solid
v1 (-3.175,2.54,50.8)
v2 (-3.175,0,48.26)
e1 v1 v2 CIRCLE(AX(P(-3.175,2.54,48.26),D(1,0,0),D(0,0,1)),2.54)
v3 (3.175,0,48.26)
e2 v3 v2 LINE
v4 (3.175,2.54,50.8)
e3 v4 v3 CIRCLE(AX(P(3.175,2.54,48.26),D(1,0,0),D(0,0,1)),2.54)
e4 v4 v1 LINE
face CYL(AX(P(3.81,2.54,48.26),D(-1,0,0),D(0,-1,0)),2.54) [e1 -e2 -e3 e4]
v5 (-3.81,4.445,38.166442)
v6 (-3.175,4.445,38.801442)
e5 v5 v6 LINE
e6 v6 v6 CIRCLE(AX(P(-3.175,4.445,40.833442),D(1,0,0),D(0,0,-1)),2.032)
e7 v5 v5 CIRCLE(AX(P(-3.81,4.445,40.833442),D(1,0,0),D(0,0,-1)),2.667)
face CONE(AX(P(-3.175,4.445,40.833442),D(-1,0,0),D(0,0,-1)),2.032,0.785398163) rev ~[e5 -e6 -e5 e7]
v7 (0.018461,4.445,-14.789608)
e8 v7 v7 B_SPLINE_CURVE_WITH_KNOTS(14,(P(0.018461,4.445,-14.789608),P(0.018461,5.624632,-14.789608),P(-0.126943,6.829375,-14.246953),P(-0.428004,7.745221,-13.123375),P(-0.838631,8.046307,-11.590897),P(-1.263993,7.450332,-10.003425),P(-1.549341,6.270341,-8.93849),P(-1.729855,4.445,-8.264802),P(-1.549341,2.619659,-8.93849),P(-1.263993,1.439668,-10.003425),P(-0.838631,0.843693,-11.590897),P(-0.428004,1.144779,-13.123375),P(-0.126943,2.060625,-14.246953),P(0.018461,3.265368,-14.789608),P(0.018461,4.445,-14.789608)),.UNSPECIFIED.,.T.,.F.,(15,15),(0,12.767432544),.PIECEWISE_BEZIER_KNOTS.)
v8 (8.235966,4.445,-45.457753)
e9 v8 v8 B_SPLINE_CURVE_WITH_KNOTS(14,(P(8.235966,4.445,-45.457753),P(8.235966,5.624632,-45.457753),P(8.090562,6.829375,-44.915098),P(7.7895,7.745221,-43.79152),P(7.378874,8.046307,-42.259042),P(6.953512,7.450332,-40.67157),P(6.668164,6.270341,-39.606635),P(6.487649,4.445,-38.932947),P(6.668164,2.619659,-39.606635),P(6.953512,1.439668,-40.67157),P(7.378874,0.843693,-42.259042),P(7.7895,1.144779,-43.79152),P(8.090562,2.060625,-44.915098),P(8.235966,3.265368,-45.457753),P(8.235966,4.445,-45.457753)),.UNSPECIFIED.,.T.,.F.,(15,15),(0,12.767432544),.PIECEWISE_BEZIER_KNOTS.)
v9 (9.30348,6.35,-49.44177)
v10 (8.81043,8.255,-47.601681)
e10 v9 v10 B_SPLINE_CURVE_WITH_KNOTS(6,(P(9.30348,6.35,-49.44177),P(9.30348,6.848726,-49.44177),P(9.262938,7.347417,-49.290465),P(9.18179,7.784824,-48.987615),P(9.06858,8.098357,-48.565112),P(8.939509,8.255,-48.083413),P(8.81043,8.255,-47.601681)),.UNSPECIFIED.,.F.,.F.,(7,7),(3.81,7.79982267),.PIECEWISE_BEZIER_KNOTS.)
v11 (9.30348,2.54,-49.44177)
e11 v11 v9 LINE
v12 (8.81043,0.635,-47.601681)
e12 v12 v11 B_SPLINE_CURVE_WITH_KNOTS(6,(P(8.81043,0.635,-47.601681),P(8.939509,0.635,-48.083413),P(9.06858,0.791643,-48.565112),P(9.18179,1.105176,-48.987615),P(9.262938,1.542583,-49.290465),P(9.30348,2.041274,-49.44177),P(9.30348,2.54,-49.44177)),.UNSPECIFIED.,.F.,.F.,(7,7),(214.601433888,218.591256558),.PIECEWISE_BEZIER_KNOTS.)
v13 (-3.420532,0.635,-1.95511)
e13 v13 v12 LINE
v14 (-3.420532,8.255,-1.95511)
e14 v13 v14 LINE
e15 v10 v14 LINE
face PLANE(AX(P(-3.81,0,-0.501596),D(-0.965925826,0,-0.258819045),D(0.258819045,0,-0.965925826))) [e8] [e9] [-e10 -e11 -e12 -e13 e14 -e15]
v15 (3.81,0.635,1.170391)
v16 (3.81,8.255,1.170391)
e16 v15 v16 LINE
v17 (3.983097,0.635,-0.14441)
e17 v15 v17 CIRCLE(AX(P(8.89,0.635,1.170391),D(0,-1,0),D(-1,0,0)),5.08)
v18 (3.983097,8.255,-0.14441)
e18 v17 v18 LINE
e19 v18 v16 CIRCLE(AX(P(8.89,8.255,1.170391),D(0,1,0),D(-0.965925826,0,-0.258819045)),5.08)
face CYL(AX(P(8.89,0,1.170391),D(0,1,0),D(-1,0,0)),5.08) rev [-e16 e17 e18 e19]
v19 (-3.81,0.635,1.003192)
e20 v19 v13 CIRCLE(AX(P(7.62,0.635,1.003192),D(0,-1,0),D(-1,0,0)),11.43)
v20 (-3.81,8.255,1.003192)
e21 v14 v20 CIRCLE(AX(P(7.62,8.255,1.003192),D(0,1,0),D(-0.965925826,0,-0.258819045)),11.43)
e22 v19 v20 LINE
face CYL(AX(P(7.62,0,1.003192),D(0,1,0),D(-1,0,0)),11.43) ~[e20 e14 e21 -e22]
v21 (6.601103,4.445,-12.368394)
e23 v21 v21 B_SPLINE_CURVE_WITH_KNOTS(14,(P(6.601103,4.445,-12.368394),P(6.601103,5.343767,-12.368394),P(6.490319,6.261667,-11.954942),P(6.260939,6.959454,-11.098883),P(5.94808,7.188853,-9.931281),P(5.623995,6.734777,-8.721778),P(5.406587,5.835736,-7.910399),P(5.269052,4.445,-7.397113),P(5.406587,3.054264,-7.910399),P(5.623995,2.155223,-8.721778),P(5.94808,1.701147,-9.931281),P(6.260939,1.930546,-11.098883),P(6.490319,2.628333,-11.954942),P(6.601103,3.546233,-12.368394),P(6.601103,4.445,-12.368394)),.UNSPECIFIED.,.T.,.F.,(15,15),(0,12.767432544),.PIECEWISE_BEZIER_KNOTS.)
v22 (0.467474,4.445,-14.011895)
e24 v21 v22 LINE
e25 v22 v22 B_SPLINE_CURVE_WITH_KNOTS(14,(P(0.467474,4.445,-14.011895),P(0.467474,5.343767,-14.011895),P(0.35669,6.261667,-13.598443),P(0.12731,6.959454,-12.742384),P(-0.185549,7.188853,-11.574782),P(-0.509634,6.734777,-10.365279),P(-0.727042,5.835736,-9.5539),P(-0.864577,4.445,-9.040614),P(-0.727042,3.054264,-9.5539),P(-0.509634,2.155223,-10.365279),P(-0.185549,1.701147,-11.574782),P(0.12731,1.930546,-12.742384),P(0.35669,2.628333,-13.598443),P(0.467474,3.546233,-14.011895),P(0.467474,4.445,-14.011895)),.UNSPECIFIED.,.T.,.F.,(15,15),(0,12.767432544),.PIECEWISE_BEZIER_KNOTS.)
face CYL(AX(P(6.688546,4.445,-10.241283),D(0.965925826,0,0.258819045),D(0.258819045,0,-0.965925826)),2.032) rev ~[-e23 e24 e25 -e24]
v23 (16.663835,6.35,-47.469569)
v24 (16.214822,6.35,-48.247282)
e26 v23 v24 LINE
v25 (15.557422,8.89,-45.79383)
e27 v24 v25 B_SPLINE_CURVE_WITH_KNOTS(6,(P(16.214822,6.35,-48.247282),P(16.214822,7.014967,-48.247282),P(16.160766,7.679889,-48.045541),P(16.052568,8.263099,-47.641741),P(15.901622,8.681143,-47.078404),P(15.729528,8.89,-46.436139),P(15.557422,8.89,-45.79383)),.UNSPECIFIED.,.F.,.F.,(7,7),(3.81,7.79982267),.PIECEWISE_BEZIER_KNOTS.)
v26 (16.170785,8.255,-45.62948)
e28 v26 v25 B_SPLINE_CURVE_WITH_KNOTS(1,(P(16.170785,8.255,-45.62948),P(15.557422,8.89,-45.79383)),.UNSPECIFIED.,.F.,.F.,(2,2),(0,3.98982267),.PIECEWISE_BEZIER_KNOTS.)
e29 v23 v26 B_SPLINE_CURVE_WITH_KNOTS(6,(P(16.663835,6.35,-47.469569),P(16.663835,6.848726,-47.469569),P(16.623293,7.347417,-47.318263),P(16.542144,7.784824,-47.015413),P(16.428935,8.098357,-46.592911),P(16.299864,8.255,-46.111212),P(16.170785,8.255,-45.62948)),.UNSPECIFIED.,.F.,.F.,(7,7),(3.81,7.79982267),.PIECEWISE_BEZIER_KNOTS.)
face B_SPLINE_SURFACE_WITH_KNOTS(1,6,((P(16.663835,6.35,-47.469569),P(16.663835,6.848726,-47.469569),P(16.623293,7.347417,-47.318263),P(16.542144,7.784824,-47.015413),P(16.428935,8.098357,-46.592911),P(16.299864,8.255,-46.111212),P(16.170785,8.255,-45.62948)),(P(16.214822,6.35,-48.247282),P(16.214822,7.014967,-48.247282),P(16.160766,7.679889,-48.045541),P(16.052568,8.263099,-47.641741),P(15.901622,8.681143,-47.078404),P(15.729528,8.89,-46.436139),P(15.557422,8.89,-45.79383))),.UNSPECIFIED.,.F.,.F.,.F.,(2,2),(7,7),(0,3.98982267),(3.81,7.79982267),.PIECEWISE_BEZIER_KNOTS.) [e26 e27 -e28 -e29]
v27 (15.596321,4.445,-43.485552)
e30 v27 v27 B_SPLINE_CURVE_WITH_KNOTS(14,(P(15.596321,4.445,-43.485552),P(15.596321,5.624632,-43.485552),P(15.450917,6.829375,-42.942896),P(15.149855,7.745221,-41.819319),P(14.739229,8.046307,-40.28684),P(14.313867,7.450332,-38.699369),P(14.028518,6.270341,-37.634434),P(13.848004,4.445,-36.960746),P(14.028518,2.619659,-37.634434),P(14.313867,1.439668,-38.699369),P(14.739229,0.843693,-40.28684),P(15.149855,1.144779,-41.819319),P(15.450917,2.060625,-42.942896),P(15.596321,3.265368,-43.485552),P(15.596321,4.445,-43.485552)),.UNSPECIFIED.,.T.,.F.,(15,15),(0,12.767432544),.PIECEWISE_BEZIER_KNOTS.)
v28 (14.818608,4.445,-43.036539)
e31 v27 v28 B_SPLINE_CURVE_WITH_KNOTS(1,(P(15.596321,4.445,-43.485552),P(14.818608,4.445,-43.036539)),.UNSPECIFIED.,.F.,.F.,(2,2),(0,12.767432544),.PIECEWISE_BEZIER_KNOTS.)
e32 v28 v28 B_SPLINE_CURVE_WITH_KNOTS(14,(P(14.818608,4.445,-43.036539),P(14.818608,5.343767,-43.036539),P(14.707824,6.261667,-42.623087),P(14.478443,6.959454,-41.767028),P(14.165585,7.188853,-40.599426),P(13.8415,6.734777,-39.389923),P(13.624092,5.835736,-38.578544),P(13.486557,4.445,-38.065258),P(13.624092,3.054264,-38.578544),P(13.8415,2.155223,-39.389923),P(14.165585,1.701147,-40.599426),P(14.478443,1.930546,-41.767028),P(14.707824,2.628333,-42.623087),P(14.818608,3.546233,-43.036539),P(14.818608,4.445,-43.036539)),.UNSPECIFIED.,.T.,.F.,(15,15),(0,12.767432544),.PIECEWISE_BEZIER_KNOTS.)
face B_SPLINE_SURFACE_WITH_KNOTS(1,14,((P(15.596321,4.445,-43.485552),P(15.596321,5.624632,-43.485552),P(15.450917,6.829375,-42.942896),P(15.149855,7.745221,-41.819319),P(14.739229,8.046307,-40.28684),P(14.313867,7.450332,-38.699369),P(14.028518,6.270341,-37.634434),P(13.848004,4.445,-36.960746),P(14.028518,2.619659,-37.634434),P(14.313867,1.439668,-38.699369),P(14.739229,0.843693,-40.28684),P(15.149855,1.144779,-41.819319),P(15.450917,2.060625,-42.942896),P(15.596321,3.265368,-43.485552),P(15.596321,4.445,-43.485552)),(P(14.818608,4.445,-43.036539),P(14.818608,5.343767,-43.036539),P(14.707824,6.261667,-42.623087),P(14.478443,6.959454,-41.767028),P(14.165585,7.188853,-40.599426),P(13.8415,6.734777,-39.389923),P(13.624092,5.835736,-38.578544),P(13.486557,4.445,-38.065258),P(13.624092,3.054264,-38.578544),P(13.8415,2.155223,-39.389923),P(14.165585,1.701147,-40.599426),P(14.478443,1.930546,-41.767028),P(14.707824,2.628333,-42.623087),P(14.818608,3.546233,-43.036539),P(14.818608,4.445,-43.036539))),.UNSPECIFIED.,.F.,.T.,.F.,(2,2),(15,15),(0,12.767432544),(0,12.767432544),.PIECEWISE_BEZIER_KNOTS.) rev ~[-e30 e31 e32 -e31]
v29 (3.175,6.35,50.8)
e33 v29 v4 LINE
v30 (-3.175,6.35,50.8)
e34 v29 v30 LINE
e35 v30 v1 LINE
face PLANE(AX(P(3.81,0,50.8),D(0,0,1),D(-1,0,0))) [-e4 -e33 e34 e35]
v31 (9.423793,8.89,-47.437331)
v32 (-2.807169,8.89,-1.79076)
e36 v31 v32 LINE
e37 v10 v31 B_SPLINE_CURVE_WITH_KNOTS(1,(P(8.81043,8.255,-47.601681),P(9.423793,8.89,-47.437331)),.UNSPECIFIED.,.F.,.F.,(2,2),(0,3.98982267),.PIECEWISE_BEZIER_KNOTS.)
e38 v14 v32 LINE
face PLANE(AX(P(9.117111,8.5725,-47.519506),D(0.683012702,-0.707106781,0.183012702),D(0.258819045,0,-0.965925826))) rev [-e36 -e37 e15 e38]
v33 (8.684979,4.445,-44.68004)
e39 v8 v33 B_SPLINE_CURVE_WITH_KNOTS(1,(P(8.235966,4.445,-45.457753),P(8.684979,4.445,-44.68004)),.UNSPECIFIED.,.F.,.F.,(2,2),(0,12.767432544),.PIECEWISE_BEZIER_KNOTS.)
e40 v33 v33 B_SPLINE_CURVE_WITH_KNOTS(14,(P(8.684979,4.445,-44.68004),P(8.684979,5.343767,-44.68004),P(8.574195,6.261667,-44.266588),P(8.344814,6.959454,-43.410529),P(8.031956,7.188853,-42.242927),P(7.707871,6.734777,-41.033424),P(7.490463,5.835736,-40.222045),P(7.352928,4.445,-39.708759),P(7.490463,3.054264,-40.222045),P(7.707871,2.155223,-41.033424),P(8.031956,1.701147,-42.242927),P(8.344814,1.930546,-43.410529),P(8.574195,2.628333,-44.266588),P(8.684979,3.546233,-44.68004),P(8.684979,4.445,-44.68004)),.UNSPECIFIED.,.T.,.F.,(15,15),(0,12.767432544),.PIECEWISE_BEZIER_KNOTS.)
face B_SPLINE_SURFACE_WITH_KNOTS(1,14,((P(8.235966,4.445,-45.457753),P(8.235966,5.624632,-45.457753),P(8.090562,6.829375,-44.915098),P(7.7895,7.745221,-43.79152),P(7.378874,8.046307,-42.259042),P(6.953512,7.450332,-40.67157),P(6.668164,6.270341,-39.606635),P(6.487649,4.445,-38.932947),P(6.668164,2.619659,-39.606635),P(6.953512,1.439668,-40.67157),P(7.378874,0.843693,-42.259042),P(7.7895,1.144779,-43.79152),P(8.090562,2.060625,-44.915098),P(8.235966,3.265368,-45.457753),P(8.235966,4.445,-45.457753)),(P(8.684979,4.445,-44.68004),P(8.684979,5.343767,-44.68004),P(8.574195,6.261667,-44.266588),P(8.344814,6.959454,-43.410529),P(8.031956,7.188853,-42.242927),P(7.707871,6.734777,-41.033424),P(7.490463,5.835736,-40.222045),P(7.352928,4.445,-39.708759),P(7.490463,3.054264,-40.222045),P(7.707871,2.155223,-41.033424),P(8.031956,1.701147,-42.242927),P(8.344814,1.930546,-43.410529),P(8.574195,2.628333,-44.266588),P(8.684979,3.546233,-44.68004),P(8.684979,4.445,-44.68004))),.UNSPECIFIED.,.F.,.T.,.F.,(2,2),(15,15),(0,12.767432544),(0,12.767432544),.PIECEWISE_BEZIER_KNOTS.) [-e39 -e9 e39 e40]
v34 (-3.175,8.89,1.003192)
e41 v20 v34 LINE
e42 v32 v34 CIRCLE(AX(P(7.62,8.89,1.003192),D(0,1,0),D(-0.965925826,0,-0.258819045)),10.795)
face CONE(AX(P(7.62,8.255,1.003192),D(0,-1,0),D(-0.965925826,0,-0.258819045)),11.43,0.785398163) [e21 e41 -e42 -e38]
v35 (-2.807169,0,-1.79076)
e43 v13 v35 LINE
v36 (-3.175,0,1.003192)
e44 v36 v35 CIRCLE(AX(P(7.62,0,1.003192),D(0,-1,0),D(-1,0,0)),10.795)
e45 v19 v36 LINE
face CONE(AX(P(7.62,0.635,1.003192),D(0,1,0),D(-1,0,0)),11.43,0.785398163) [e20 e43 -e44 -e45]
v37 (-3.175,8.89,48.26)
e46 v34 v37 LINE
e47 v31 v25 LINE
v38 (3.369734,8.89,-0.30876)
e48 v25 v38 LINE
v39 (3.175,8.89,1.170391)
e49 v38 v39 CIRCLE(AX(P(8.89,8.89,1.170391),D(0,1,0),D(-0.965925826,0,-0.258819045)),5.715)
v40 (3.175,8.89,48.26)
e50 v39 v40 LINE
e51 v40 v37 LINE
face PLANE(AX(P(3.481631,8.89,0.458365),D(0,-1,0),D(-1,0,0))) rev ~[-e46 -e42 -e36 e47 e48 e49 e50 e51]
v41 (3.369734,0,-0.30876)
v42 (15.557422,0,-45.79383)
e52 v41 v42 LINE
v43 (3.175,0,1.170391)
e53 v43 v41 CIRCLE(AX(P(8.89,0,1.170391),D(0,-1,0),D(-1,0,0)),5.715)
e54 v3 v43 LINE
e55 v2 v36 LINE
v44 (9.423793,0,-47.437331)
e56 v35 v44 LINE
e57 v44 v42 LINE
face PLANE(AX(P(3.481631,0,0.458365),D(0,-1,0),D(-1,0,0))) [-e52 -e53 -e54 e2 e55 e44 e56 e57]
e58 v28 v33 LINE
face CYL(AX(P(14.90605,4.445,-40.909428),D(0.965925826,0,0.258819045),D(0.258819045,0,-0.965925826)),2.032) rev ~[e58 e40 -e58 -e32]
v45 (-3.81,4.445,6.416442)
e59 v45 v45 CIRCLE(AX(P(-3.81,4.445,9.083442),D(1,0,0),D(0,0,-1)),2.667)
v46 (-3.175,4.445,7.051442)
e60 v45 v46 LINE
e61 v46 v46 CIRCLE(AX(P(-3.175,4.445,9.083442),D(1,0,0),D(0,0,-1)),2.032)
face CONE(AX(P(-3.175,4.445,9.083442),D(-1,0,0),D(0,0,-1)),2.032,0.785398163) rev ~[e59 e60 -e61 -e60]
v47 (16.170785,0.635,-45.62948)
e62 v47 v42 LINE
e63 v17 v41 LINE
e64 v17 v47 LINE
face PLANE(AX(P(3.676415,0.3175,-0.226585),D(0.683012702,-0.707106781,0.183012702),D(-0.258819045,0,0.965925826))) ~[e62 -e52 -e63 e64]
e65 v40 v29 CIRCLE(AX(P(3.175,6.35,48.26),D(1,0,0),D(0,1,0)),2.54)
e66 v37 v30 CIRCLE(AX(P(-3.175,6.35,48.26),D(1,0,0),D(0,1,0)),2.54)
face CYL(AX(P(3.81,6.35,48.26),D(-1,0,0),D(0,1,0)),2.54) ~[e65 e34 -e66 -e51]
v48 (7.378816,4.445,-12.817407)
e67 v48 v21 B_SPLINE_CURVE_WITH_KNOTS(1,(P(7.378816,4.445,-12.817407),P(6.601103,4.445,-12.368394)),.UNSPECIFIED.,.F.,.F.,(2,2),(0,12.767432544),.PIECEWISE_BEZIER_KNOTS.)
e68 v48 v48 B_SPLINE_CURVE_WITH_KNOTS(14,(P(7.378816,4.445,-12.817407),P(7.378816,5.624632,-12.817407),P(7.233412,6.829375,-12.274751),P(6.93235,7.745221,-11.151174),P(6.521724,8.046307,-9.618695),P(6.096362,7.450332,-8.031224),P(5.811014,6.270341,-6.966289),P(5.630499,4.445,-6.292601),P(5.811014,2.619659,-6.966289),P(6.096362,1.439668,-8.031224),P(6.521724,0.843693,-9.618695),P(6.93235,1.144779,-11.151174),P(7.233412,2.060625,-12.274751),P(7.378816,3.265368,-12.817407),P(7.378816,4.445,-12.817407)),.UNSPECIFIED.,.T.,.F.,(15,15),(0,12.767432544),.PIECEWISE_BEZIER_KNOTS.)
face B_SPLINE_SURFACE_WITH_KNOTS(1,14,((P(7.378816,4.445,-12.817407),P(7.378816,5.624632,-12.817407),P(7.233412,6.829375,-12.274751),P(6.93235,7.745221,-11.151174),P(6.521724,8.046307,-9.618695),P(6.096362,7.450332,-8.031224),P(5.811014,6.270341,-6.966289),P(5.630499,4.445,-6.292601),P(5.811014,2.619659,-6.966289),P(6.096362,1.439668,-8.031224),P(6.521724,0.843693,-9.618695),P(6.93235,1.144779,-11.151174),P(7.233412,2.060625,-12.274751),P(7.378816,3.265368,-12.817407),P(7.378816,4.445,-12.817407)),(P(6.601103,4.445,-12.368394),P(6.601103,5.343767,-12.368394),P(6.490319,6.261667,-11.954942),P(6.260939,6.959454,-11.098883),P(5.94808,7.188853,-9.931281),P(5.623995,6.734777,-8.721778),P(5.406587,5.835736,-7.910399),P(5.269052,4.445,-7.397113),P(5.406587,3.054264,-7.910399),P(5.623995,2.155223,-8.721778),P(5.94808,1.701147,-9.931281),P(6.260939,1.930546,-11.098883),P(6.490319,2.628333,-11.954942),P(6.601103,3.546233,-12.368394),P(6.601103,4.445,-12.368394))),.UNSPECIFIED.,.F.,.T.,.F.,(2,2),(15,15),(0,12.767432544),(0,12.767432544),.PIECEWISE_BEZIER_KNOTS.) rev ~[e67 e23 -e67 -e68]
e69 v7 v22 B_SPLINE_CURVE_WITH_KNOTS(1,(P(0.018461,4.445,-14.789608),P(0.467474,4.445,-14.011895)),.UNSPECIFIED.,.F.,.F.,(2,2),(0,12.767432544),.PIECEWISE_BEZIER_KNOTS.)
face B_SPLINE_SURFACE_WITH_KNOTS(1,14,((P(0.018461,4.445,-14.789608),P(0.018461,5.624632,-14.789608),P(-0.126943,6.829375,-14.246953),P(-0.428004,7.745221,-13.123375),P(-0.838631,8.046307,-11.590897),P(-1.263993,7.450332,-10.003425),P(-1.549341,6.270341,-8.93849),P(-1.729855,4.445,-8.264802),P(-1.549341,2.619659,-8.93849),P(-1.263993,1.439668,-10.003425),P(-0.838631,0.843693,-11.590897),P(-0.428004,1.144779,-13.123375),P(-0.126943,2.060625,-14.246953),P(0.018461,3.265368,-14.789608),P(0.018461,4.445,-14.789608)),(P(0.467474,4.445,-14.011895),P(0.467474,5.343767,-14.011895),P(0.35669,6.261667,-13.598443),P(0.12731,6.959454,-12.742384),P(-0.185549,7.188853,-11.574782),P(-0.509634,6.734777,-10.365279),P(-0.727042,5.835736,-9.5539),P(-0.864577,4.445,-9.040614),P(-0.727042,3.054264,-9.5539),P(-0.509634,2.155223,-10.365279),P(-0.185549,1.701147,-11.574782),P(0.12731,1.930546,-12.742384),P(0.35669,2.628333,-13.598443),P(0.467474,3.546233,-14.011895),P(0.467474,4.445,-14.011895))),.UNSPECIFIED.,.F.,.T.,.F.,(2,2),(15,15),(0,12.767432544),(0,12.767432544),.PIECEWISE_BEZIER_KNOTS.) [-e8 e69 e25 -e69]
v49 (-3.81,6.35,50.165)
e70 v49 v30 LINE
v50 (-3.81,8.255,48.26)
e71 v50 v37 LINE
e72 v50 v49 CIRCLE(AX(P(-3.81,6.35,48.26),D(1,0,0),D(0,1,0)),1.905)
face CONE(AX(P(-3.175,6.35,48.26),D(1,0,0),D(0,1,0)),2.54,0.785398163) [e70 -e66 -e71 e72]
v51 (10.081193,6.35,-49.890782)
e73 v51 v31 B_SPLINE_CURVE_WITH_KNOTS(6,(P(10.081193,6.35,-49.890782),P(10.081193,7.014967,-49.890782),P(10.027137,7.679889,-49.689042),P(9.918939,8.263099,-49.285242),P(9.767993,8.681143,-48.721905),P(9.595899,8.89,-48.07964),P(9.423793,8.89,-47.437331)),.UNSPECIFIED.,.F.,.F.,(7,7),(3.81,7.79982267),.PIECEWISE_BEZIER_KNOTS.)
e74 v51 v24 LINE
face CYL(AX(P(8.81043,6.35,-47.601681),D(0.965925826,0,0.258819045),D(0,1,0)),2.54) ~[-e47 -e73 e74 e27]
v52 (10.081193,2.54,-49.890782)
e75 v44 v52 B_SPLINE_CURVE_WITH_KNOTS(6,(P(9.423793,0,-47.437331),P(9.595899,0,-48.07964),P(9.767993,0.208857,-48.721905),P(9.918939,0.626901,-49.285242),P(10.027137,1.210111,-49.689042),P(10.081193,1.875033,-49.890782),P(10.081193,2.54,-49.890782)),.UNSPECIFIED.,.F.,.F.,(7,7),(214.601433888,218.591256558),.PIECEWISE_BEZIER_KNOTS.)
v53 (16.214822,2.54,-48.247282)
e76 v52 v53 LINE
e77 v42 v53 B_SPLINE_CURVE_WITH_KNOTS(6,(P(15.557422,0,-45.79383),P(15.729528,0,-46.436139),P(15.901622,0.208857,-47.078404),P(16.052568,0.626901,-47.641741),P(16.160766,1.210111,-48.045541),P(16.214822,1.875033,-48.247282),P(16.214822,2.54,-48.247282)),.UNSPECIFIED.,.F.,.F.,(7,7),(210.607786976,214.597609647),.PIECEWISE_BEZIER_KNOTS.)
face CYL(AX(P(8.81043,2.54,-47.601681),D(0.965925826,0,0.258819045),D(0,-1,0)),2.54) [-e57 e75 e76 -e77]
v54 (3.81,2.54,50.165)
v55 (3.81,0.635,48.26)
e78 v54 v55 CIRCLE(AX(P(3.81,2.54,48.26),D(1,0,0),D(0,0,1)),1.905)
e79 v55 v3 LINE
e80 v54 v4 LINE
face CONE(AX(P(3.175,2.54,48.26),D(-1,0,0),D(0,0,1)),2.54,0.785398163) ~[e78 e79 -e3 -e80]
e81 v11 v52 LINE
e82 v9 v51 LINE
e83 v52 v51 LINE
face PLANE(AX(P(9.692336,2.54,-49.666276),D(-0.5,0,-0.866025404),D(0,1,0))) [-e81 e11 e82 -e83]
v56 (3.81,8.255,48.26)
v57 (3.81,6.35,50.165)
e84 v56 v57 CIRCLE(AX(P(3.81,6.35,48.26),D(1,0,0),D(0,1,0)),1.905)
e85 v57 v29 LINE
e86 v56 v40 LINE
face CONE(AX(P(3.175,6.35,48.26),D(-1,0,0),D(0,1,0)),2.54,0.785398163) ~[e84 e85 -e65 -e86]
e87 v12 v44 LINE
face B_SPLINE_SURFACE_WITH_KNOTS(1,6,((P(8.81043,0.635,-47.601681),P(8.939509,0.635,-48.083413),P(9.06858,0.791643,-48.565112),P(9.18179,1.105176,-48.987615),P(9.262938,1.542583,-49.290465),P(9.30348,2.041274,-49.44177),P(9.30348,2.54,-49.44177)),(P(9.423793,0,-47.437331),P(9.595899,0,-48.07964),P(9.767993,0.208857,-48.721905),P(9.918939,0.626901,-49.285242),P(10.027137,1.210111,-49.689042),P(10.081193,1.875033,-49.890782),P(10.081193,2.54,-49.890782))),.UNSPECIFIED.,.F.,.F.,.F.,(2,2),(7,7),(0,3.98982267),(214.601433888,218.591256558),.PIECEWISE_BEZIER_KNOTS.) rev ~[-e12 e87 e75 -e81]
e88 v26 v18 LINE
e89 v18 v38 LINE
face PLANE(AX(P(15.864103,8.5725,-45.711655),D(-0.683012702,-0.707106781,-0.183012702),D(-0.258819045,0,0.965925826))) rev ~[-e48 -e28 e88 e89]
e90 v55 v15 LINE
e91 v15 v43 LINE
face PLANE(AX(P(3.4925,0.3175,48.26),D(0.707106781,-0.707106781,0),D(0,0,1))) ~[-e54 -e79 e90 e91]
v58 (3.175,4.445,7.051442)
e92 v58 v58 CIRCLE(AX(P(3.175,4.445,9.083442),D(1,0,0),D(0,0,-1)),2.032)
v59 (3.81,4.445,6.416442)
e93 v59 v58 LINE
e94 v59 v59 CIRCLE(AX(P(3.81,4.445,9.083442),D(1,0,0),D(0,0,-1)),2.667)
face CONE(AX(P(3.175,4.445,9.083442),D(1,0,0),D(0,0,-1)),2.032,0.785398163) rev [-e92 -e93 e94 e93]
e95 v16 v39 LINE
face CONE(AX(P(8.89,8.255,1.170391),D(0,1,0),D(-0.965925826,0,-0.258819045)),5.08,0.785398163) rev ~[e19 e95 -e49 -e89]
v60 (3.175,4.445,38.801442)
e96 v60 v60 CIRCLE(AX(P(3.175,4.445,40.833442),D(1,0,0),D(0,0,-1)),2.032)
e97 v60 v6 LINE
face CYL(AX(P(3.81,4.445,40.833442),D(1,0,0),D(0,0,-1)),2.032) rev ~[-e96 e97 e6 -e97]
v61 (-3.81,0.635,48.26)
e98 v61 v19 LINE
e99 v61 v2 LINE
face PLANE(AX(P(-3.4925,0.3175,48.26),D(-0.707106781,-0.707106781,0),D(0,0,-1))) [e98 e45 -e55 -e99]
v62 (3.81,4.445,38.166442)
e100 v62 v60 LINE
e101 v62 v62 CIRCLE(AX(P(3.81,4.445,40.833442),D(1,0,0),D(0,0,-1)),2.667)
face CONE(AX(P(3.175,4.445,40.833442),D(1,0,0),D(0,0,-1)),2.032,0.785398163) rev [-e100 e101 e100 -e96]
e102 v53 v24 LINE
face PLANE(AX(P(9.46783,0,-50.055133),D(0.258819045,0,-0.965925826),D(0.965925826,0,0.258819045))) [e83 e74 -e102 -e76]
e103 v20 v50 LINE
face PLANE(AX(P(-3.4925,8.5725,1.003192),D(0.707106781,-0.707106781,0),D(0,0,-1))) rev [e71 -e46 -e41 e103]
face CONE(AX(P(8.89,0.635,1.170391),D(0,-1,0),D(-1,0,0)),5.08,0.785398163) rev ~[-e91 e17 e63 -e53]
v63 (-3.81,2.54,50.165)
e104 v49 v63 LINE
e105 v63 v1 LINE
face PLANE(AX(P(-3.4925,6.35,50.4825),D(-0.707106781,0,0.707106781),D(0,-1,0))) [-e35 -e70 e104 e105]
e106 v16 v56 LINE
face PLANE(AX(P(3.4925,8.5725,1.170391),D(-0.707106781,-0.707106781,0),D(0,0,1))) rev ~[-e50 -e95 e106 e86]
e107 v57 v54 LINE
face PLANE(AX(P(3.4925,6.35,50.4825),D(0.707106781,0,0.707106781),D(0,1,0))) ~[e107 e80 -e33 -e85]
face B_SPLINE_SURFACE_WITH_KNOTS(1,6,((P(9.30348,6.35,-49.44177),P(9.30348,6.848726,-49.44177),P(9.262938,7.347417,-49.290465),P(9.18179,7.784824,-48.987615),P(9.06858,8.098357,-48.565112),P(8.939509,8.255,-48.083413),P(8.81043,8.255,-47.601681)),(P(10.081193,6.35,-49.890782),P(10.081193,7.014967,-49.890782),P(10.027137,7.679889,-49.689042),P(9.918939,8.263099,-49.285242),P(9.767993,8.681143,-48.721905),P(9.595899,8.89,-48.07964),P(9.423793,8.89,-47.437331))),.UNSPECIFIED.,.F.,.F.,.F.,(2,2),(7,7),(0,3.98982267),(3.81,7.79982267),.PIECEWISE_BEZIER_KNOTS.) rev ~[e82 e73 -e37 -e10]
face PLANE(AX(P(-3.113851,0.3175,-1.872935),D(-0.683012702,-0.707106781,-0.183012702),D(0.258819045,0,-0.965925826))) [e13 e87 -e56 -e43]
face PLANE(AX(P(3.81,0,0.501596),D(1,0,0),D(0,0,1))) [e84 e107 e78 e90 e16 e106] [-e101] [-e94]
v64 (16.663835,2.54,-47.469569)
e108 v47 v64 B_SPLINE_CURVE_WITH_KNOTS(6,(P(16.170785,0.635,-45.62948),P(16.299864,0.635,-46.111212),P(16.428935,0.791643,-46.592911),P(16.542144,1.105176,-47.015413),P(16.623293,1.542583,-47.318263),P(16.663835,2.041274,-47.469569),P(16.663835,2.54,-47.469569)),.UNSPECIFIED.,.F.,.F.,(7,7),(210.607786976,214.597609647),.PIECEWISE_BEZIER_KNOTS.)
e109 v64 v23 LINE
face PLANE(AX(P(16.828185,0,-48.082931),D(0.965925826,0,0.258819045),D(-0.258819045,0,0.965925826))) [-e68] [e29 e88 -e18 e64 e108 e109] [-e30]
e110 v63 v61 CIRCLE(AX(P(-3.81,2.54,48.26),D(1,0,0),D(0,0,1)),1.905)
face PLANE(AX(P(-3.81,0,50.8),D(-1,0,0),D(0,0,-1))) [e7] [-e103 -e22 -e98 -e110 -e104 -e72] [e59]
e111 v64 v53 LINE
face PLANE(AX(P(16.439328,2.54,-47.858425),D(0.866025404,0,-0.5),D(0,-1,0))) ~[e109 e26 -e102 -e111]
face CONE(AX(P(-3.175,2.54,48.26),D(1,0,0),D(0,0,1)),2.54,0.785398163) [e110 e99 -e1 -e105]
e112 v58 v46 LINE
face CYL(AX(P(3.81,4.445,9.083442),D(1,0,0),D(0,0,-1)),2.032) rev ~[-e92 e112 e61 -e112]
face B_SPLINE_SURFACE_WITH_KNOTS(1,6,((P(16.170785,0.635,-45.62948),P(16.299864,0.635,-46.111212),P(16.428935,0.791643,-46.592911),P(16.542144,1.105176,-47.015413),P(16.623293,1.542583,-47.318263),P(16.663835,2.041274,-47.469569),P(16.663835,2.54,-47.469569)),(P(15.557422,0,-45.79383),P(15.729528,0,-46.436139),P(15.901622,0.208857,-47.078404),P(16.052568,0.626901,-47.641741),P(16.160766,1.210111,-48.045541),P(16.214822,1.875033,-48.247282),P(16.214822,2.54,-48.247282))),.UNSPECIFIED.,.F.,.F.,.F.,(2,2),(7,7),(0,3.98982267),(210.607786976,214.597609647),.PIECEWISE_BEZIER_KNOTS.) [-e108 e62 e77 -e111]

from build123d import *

# Parameters (mm, degrees)
BOSS_EXTRUDE1_DEPTH = 8.89
SKETCH2_R           = 2.032
CUT_EXTRUDE1_DEPTH  = 54.189709887
CUT_EXTRUDE2_REACH  = 55.452
SKETCH3_R           = 2.032
FILLET1_R           = 2.54
FILLET2_R           = 5.08
FILLET3_R           = 11.43
CHAMFER1_SIZE       = 0.635


with BuildPart() as part:
    # Sketch1 → Boss-Extrude1 (new body)
    with BuildSketch(Plane(origin=(0, 0, 0), x_dir=(1, 0, 0), z_dir=(0, 1, 0))):
        Polygon((3.81, -0.501596016), (3.81, -50.8), (-3.81, -50.8), (-3.81, 0.501596016), (9.467830093, 50.055132537), (16.828184889, 48.082931414), align=None)
    extrude(amount=BOSS_EXTRUDE1_DEPTH)

    # Sketch2 → Cut-Extrude1 (cut, through all)
    with BuildSketch(Plane(origin=(3.81, 0, 0), x_dir=(0, 0, -1), z_dir=(1, 0, 0))):
        with Locations((-40.833442343, 4.445)):
            Circle(SKETCH2_R)
        with Locations((-9.083442343, 4.445)):
            Circle(SKETCH2_R)
    extrude(amount=-CUT_EXTRUDE1_DEPTH, mode=Mode.SUBTRACT)

    # Sketch3 → Cut-Extrude2 (cut, up to next)
    with BuildSketch(Plane(origin=(3.680177398, 0, 0.986100562), x_dir=(0.25881904510251424, 0, -0.9659258262890701), z_dir=(0.9659258262890701, 0, 0.25881904510251424)), mode=Mode.PRIVATE) as cut_extrude2_sk1:
        with Locations((43.373442343, 4.445)):
            Circle(SKETCH3_R)
    cut_extrude2_tool1 = extrude(cut_extrude2_sk1.sketch, amount=-CUT_EXTRUDE2_REACH, mode=Mode.PRIVATE) & part.part
    # Sketch3 → Cut-Extrude2 (cut, up to next)
    with BuildSketch(Plane(origin=(3.680177398, 0, 0.986100562), x_dir=(0.25881904510251424, 0, -0.9659258262890701), z_dir=(0.9659258262890701, 0, 0.25881904510251424)), mode=Mode.PRIVATE) as cut_extrude2_sk2:
        with Locations((11.623442343, 4.445)):
            Circle(SKETCH3_R)
    cut_extrude2_tool2 = extrude(cut_extrude2_sk2.sketch, amount=-CUT_EXTRUDE2_REACH, mode=Mode.PRIVATE) & part.part
    add(cut_extrude2_tool1.solids().sort_by_distance((14.90605, 4.445, -40.909428))[0], mode=Mode.SUBTRACT)
    add(cut_extrude2_tool2.solids().sort_by_distance((6.688546, 4.445, -10.241283))[0], mode=Mode.SUBTRACT)

    # Fillet1
    fillet1_edges = [part.edges().sort_by_distance(p)[0] for p in [
        (13.148007491, 8.89, -49.069031975),
        (13.148007491, 0, -49.069031975),
        (0, 0, 50.8),
        (0, 8.89, 50.8),
    ]]
    fillet(fillet1_edges, radius=FILLET1_R)

    # Fillet2
    fillet2_edges = [part.edges().sort_by_distance(p)[0] for p in [
        (3.81, 4.445, 0.501596016),
    ]]
    fillet(fillet2_edges, radius=FILLET2_R)

    # Fillet3
    fillet3_edges = [part.edges().sort_by_distance(p)[0] for p in [
        (-3.81, 4.445, -0.501596016),
    ]]
    fillet(fillet3_edges, radius=FILLET3_R)

    # Chamfer1
    chamfer1_edges = [part.edges().sort_by_distance(p)[0] for p in [
        (-3.81, 4.445, 11.115442343),
        (3.81, 4.445, 11.115442343),
        (-3.81, 4.445, 42.865442343),
        (3.81, 4.445, 42.865442343),
        (-1.19772945, 4.445, -10.250722432),
        (6.162625347, 4.445, -8.278521309),
        (7.019775232, 4.445, -40.918867417),
        (14.380130029, 4.445, -38.946666293),
        (9.467830093, 4.445, -50.055132537),
        (16.828184889, 4.445, -48.082931414),
        (9.275281981, 8.146051224, -49.336533201),
        (9.275281981, 0.743948776, -49.336533201),
        (16.635636778, 8.146051224, -47.364332078),
        (16.635636778, 0.743948776, -47.364332078),
        (-3.81, 4.445, 50.8),
        (-3.81, 8.146051224, 50.056051224),
        (-3.81, 0.743948776, 50.056051224),
        (3.81, 4.445, 50.8),
        (3.81, 8.146051224, 50.056051224),
        (3.81, 0.743948776, 50.056051224),
        (10.076940659, 0, -22.88694493),
        (10.076940659, 8.89, -22.88694493),
        (3.81, 0, 24.715195352),
        (3.81, 8.89, 24.715195352),
        (3.853460104, 0, 0.507317647),
        (3.853460104, 8.89, 0.507317647),
        (-3.81, 0, 24.631596016),
        (-3.81, 8.89, 24.631596016),
        (2.694948762, 0, -24.778395296),
        (-3.712214766, 0, -0.488722345),
        (2.694948762, 8.89, -24.778395296),
        (-3.712214766, 8.89, -0.488722345),
    ]]
    chamfer(chamfer1_edges, length=CHAMFER1_SIZE)


solid = part.part
